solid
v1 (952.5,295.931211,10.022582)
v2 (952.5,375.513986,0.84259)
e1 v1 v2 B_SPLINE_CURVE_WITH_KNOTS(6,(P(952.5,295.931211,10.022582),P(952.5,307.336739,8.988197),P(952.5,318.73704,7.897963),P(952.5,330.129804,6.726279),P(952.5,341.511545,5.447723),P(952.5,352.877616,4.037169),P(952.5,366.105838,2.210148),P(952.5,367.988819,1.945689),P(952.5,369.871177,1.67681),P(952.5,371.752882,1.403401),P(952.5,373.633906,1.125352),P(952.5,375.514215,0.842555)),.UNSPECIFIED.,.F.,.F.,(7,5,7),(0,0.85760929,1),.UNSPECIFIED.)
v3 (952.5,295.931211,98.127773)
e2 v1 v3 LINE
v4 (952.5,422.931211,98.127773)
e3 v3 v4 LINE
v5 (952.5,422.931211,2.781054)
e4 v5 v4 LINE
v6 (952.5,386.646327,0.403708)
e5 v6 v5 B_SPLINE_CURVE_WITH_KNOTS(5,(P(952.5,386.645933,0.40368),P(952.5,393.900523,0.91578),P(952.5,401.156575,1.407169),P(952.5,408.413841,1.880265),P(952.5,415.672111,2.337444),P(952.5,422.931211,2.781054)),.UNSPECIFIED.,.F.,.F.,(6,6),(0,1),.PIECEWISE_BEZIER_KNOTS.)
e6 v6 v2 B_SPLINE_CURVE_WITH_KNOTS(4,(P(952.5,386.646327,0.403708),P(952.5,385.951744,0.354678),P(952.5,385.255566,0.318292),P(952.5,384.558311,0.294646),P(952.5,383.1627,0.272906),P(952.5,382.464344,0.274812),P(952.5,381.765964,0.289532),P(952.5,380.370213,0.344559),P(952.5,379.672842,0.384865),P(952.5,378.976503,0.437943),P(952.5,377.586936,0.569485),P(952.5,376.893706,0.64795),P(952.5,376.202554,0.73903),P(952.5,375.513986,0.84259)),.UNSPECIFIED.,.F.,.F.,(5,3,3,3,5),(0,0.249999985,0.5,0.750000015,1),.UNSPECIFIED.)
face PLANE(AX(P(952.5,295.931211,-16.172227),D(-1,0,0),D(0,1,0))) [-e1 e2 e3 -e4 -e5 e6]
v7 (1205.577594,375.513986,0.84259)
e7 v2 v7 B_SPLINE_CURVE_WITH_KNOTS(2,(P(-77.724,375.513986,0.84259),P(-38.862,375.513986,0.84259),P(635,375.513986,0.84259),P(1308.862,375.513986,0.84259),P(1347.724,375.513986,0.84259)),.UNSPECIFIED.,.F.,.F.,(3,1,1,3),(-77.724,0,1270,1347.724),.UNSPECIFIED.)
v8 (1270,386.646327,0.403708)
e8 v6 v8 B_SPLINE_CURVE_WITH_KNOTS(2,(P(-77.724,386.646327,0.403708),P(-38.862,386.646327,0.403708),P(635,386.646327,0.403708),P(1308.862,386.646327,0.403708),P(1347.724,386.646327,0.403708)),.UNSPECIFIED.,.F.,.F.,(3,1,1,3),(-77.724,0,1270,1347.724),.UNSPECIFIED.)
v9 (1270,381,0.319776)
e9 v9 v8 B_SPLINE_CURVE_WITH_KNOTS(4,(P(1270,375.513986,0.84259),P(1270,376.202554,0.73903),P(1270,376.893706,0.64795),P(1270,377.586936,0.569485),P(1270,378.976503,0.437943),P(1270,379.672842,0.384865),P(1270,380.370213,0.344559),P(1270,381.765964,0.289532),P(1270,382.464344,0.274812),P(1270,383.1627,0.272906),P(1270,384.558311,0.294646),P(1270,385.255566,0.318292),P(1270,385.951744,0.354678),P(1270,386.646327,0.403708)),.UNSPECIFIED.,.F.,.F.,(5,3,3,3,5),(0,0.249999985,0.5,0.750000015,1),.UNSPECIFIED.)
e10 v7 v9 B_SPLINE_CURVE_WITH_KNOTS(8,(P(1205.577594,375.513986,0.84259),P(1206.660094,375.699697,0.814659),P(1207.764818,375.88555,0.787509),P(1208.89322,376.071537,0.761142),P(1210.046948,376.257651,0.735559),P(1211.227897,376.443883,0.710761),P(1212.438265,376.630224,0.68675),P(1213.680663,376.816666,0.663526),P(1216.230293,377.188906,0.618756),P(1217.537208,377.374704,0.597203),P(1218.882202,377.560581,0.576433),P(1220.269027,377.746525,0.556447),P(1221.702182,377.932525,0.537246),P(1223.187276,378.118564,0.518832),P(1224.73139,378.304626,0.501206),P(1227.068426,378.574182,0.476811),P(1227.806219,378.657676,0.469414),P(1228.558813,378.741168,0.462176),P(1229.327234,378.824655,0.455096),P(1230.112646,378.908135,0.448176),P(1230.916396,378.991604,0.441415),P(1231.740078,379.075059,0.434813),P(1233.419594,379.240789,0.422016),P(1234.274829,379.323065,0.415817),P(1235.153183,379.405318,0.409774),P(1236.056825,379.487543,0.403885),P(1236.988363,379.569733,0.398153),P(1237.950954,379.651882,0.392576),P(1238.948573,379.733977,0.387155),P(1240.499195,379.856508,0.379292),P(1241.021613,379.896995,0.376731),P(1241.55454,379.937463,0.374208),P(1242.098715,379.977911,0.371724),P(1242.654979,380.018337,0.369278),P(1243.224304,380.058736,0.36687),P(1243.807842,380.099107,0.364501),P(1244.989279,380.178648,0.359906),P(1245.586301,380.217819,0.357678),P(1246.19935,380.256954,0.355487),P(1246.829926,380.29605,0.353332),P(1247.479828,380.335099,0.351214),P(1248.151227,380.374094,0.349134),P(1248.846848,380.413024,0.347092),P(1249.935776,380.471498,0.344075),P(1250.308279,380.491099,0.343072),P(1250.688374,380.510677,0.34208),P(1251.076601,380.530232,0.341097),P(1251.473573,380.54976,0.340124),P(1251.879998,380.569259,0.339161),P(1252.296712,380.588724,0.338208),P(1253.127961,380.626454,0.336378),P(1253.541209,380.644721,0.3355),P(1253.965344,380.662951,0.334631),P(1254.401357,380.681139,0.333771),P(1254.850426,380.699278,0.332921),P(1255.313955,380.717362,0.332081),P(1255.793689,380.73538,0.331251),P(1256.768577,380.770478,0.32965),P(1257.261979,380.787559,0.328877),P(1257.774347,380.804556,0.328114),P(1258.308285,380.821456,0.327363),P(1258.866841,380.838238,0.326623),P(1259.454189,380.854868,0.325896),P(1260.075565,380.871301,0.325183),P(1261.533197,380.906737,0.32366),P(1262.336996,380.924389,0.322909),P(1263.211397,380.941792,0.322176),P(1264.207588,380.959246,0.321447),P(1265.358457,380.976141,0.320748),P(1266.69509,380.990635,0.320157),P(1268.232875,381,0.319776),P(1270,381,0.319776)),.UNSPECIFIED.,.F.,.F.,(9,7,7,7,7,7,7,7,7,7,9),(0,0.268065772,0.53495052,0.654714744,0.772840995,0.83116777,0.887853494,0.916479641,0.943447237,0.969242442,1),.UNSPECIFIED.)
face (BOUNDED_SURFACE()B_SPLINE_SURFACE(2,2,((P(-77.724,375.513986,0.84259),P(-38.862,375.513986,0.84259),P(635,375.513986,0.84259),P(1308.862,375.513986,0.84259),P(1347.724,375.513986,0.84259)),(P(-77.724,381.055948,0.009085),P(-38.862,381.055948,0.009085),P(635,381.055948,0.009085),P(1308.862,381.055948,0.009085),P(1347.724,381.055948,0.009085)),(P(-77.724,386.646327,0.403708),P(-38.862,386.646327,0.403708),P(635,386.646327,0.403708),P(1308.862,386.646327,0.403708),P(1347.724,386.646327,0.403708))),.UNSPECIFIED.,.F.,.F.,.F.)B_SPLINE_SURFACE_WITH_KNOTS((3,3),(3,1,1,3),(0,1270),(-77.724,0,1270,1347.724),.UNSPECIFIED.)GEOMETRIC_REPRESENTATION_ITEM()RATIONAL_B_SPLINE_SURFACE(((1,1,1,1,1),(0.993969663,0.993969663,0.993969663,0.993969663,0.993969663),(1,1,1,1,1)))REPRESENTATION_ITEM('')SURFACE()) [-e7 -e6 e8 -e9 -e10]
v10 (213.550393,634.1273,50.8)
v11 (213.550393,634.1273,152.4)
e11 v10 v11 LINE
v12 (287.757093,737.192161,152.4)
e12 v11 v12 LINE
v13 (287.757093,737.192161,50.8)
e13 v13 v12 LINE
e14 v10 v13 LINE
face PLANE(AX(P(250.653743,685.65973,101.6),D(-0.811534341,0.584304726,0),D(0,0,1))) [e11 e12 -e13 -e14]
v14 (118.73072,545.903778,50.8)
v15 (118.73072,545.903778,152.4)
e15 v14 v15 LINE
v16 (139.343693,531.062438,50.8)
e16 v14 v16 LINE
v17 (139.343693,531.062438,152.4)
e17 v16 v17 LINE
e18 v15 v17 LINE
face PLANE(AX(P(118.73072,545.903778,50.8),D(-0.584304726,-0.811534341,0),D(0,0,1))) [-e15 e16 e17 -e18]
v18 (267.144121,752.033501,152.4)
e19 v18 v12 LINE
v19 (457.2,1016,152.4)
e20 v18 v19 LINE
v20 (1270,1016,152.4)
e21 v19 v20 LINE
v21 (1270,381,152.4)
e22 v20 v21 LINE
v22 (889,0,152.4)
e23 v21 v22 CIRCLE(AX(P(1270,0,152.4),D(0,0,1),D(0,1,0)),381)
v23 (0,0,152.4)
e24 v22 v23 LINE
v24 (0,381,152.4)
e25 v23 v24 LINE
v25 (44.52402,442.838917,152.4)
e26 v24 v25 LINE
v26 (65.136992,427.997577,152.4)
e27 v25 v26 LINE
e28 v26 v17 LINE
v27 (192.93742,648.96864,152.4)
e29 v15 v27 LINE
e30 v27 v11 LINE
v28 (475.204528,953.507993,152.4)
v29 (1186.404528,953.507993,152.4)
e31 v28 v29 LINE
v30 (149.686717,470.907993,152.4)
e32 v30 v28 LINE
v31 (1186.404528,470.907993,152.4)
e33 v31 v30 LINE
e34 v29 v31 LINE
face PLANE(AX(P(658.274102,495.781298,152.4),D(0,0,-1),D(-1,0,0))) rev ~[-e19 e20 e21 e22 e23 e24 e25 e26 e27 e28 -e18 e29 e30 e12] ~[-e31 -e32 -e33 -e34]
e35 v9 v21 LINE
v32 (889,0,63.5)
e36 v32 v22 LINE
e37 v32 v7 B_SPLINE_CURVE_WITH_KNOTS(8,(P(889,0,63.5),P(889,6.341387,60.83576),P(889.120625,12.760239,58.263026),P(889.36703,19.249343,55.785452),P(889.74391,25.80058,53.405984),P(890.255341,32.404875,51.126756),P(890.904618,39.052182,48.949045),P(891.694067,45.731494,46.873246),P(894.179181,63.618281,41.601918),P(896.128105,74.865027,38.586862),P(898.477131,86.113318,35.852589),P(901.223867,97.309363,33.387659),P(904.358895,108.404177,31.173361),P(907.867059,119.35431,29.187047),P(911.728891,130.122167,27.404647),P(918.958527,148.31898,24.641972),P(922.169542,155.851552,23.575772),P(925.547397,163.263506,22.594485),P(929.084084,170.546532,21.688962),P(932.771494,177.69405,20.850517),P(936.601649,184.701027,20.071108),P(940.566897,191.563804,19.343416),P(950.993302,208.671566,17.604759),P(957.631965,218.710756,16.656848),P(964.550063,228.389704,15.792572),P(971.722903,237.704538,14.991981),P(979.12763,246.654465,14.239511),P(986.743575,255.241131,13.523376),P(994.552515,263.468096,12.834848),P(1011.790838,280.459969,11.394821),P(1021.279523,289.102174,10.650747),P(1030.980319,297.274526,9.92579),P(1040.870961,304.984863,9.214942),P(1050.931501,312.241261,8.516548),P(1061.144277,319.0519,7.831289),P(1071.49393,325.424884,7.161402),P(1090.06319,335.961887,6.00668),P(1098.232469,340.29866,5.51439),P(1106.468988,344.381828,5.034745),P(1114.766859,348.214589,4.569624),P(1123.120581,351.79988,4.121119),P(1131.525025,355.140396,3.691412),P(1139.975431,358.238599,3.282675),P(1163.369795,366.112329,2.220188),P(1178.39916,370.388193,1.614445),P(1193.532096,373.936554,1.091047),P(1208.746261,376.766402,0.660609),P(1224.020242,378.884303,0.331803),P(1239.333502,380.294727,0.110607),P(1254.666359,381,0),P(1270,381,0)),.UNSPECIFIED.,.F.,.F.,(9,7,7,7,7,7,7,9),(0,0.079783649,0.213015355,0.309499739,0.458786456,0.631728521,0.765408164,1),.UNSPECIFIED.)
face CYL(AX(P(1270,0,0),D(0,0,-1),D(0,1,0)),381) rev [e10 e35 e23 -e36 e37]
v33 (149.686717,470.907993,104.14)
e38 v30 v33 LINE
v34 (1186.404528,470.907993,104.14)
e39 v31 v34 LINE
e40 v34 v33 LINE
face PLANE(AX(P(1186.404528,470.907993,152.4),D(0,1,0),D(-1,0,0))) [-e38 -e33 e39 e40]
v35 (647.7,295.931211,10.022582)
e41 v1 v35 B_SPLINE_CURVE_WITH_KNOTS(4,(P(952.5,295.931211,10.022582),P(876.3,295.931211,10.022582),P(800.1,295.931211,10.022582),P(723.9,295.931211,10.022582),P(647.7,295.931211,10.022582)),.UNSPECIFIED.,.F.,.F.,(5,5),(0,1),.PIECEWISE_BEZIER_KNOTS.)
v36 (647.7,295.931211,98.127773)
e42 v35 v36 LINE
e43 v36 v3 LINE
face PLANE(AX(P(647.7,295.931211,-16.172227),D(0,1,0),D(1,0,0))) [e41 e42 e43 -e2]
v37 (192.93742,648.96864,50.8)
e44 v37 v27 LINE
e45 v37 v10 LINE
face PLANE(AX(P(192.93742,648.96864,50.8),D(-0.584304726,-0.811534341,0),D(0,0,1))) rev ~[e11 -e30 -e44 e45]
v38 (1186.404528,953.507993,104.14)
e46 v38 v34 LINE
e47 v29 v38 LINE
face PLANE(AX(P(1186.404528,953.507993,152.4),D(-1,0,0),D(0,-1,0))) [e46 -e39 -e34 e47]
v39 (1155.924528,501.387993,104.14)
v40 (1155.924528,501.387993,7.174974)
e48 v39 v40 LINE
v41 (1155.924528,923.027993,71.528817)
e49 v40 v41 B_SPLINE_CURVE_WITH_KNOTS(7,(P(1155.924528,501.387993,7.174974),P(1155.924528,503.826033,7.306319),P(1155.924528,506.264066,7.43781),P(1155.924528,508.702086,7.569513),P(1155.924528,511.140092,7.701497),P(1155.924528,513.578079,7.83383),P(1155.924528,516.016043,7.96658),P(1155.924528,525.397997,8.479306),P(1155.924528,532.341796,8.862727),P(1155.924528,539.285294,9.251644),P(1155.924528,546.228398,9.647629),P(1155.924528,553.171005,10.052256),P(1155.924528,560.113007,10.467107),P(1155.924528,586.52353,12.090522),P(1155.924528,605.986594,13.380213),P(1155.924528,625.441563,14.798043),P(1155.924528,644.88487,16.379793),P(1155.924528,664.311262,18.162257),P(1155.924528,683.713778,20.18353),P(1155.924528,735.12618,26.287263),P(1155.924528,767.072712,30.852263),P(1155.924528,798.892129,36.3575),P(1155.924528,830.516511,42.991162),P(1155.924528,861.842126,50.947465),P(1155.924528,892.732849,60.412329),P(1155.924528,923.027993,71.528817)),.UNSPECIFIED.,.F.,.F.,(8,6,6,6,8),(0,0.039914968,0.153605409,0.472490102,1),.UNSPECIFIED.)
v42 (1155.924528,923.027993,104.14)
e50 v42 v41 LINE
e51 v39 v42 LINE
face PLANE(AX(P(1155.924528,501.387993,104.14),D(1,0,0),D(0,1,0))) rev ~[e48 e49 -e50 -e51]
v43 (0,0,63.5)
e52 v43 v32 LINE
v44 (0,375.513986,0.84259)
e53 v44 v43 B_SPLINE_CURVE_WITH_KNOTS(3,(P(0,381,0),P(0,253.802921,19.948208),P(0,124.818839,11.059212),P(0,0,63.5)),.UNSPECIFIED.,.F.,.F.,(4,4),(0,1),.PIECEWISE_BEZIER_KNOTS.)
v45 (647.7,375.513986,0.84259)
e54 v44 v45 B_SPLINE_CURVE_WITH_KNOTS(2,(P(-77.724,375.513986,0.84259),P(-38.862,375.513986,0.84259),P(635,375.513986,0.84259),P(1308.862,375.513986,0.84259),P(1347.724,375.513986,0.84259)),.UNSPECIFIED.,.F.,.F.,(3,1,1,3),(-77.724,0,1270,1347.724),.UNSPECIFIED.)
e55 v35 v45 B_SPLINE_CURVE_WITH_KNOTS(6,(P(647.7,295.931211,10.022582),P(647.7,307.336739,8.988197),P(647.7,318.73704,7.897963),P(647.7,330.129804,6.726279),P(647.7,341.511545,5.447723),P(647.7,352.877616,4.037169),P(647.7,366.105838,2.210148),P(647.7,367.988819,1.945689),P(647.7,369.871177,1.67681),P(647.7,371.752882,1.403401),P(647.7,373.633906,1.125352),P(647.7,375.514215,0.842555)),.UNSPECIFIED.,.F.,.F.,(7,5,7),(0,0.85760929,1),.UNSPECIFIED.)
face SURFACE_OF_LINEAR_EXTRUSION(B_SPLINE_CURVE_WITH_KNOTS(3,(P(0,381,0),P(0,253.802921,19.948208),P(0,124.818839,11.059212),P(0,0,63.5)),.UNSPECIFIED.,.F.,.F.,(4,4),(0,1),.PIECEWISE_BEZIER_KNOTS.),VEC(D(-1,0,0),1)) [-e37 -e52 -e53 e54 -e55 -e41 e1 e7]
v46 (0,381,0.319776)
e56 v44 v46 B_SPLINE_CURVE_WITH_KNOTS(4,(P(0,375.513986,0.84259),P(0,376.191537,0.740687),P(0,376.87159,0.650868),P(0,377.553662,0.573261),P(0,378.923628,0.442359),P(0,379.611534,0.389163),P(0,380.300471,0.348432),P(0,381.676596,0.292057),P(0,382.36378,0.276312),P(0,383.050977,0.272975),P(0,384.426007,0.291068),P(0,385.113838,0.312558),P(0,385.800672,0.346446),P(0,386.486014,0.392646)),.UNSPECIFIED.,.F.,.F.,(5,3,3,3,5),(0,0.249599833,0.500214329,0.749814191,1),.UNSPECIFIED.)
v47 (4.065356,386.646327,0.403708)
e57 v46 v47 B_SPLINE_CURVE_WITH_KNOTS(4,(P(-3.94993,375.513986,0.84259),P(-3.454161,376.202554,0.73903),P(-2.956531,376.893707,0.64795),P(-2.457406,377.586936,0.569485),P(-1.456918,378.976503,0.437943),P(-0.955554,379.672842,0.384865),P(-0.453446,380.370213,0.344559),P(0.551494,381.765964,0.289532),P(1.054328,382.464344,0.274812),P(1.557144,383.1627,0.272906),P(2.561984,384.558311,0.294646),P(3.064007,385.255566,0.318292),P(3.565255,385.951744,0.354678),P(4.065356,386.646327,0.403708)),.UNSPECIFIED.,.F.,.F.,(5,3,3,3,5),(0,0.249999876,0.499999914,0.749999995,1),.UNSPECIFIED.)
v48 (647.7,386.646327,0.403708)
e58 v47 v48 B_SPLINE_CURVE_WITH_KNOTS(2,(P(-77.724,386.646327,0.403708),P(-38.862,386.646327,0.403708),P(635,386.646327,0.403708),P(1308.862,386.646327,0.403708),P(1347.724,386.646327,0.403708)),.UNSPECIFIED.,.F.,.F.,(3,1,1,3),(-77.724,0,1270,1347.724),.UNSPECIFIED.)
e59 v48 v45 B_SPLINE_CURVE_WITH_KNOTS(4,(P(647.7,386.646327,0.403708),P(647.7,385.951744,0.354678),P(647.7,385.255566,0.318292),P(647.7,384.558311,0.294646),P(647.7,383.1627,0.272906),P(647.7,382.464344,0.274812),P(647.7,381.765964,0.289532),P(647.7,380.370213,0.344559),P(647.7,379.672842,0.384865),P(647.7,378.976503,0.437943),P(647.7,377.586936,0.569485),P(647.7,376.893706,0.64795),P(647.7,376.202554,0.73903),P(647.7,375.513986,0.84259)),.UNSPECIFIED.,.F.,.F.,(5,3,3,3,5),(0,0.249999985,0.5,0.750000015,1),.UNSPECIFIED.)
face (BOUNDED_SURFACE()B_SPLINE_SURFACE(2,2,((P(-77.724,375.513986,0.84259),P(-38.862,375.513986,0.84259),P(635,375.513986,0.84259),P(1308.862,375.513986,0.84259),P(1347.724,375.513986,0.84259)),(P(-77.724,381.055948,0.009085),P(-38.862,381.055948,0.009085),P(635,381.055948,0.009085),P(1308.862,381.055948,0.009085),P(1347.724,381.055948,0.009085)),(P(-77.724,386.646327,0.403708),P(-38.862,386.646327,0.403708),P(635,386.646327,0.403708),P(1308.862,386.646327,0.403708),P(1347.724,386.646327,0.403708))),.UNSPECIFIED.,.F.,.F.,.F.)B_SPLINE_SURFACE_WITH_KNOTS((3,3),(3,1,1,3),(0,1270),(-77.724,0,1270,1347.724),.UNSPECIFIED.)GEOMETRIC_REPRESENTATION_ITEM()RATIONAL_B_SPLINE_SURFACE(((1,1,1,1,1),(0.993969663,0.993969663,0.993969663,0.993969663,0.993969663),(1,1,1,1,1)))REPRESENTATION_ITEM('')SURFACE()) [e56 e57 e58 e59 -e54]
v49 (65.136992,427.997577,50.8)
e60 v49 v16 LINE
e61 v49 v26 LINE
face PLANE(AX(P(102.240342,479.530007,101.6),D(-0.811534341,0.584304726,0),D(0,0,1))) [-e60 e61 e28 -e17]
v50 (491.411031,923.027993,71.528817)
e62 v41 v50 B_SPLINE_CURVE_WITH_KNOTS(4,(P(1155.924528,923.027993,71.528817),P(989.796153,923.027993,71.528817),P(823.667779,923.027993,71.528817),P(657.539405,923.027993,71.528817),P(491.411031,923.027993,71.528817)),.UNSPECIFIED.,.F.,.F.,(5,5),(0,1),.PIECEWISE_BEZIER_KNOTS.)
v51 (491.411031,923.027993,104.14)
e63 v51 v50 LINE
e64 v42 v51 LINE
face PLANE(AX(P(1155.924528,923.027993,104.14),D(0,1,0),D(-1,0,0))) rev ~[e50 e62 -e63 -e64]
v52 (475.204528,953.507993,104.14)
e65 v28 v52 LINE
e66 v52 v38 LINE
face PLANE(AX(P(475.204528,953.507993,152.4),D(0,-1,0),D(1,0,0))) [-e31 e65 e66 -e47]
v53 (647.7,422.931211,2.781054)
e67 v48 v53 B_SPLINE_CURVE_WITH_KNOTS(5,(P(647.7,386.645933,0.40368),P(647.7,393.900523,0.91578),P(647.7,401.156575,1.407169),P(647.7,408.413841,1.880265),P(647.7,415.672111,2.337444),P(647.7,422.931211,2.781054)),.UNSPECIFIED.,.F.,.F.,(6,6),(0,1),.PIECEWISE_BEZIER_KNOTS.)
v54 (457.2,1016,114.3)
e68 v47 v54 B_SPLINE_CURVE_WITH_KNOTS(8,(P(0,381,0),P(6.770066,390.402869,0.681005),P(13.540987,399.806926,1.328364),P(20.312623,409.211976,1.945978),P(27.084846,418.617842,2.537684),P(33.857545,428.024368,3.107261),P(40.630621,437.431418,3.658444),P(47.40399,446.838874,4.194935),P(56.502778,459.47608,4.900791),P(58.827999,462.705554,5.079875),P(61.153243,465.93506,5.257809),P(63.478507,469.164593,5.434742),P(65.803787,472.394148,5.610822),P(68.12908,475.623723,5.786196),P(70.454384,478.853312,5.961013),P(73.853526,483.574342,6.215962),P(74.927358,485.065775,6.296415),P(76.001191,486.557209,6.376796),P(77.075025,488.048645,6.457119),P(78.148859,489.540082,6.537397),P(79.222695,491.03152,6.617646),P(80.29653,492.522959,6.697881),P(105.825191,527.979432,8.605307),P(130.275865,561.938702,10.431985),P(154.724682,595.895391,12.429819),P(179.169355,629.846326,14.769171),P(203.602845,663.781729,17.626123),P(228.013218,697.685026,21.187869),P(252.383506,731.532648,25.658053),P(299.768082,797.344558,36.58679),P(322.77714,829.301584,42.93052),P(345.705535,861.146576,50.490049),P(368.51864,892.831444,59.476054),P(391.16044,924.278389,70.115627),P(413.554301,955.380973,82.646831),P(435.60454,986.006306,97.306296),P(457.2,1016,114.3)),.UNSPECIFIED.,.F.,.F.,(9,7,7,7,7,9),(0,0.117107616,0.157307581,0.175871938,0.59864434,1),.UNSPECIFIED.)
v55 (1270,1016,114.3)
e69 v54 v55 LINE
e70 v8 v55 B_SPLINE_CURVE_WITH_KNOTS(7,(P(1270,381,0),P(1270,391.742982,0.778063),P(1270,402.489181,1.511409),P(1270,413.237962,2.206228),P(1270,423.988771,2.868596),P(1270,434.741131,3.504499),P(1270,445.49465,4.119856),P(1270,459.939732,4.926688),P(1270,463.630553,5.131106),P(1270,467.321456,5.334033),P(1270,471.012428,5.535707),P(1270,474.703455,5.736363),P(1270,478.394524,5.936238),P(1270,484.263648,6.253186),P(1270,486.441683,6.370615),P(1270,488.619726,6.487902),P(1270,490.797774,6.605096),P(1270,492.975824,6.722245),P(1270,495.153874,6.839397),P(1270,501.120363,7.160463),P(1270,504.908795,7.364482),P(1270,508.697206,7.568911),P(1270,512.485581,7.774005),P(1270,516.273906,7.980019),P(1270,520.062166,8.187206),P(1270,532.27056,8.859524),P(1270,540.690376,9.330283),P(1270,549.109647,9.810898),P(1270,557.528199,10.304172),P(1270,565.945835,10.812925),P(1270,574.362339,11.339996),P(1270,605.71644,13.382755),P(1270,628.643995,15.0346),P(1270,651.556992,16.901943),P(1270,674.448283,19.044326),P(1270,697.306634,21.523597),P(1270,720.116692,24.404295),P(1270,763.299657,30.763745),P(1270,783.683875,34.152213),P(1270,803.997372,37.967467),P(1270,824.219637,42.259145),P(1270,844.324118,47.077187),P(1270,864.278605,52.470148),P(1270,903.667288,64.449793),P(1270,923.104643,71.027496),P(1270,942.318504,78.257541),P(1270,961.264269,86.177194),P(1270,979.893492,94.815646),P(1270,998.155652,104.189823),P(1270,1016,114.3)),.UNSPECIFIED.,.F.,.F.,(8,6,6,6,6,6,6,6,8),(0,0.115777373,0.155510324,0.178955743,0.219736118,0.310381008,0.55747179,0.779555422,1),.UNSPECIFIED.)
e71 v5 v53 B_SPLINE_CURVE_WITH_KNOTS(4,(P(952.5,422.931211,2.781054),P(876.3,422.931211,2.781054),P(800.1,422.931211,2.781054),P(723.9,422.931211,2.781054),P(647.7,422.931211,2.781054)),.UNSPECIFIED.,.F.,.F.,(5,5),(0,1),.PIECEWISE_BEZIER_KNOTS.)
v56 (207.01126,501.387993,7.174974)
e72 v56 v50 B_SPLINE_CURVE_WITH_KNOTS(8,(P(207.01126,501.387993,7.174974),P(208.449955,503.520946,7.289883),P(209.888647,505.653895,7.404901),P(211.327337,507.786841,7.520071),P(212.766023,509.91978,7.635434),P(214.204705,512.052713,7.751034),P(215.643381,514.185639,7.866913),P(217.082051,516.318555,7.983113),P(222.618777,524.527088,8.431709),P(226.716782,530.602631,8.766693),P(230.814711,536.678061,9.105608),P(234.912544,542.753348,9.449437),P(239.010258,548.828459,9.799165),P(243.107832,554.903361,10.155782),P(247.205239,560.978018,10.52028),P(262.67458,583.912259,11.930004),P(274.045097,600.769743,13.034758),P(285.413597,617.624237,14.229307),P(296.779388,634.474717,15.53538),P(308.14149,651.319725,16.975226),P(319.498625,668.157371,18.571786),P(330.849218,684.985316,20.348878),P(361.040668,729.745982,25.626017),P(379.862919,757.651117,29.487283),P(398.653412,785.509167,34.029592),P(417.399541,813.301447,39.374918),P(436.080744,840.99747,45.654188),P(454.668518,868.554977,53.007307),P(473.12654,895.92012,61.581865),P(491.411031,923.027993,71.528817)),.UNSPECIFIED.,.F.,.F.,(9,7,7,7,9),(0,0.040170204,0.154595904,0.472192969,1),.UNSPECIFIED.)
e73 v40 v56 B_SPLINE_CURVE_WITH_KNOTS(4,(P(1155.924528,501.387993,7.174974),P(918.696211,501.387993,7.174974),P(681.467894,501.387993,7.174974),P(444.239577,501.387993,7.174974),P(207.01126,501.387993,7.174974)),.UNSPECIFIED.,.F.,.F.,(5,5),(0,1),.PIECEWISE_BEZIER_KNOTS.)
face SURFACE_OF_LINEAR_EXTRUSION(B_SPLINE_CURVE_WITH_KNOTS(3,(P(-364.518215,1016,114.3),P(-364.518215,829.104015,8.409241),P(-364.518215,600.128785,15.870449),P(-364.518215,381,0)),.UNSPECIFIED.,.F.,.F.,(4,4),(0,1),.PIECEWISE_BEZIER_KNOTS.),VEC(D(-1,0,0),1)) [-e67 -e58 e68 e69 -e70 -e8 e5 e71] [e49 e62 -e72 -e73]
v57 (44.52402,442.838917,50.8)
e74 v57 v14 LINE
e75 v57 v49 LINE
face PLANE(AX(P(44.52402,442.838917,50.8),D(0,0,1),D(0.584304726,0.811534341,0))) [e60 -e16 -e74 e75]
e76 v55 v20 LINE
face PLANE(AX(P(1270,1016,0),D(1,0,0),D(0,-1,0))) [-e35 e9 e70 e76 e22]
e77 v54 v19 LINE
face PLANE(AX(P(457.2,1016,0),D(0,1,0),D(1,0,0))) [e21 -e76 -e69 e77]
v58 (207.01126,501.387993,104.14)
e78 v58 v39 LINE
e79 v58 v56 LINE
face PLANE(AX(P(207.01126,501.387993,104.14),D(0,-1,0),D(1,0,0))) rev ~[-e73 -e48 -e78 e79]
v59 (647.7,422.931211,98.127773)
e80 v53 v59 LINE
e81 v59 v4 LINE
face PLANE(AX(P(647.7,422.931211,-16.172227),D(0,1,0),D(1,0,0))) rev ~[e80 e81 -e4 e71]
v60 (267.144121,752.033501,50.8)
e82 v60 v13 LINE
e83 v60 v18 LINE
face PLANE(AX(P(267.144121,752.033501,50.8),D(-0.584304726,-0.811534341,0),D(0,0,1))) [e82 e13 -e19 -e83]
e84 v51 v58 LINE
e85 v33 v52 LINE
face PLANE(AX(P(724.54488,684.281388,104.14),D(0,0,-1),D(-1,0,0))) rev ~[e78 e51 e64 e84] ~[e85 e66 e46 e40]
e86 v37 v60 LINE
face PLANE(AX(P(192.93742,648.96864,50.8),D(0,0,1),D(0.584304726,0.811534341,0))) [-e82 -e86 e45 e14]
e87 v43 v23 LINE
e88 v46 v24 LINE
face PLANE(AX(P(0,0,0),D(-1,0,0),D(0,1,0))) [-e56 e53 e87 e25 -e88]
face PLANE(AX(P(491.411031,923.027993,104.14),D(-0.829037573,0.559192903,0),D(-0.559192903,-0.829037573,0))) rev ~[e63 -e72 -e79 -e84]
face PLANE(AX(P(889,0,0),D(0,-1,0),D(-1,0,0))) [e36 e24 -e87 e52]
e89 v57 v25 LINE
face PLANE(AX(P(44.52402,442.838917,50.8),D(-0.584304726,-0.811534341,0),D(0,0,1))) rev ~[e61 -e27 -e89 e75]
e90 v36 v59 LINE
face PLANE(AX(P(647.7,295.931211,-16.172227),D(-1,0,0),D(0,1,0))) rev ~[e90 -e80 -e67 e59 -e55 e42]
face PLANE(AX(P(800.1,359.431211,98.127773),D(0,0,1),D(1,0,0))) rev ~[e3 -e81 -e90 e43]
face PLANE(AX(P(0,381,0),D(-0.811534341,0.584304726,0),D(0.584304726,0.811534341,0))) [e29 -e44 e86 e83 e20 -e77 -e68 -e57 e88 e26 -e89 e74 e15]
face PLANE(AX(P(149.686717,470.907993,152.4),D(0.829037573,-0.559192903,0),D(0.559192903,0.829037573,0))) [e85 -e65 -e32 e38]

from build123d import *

# Parameters (mm, degrees)
BOSS_EXTRUDE1_DEPTH     = 152.4
CUT_EXTRUDE1_DEPTH      = 1634.518215387
CUT_EXTRUDE1_DEPTH_BACK = 1634.518215387
CUT_EXTRUDE2_DEPTH      = 1634.518215536
FILLET1_R               = 50.8
CUT_EXTRUDE3_DEPTH      = 48.26
CUT_EXTRUDE4_DEPTH      = 1213.010253568
SKETCH6_W               = 101.6
SKETCH6_H               = 127
CUT_EXTRUDE5_DEPTH      = 25.4
LPATTERN1_COUNT         = 2
LPATTERN1_PITCH         = 254
SKETCH7_W               = 304.8
SKETCH7_H               = 127
CUT_EXTRUDE7_DEPTH      = 114.3


with BuildPart() as part:
    # Sketch1 → Boss-Extrude1 (new body)
    with BuildSketch(Plane.XY):
        with BuildLine():
            Line((0, 0), (0, 381))
            Line((0, 381), (457.2, 1016))
            Line((457.2, 1016), (1270, 1016))
            Line((1270, 1016), (1270, 381))
            ThreePointArc((1270, 381), (1000.592316368, 269.407683632), (889, 0))
            Line((889, 0), (0, 0))
        make_face()
    extrude(amount=BOSS_EXTRUDE1_DEPTH)

    # Sketch3 → Cut-Extrude1 (cut, two sides: drawn at the far end of the back side and taken through both)
    with BuildSketch(Plane(origin=(1270, 0, 0), x_dir=(0, 0, -1), z_dir=(1, 0, 0)).offset(-CUT_EXTRUDE1_DEPTH_BACK)):
        with BuildLine():
            Line((0, 1016), (-114.3, 1016))
            add(Edge.make_bspline(
                [(-114.3, 1016), (-8.40924149, 829.104015067), (-15.870449407, 600.128785321), (0, 381)],
                knots=[0, 0, 0, 0, 1, 1, 1, 1], degree=3))
            Line((0, 381), (0, 1016))
        make_face()
    extrude(amount=CUT_EXTRUDE1_DEPTH + CUT_EXTRUDE1_DEPTH_BACK, mode=Mode.SUBTRACT)

    # Sketch4 → Cut-Extrude2 (cut, through all)
    with BuildSketch(Plane.ZY):
        with BuildLine():
            Line((0, 0), (63.5, 0))
            add(Edge.make_bspline(
                [(0, 381), (19.94820776, 253.802921476), (11.059212426, 124.818838522), (63.5, 0)],
                knots=[0, 0, 0, 0, 1, 1, 1, 1], degree=3))
            Line((0, 381), (0, 0))
        make_face()
    extrude(amount=-CUT_EXTRUDE2_DEPTH, mode=Mode.SUBTRACT)

    # Fillet1
    fillet1_edges = [part.edges().sort_by_distance(p)[0] for p in [
        (635, 381, 0),
    ]]
    fillet(fillet1_edges, radius=FILLET1_R)

    # Sketch5 → Cut-Extrude3 (cut)
    with BuildSketch(Plane.XY.offset(152.4)):
        Polygon((1186.404527601, 953.507993358), (1186.404527601, 470.907993358), (149.686717373, 470.907993358), (475.204527601, 953.507993358), align=None)
    extrude(amount=-CUT_EXTRUDE3_DEPTH, mode=Mode.SUBTRACT)

    # 3DSketch1 → Cut-Extrude4 (cut, through all)
    with BuildSketch(Plane(origin=(491.411031078, 923.027993358, 104.14), x_dir=(0.8443699387246085, -0.535760586995909, 0), z_dir=(0, 0, -1))):
        Polygon((0, 0), (-14.240523347, 508.390329239), (786.993314242, 0), (561.095220341, -356.020140964), align=None)
    extrude(amount=CUT_EXTRUDE4_DEPTH, mode=Mode.SUBTRACT)

    # Sketch6 → Cut-Extrude5 (cut)
    with BuildSketch(Plane(origin=(-180.663856691, 130.077976818, 0), x_dir=(0, 0, 1), z_dir=(-0.8115343414514944, 0.5843047258450759, 0))):
        with Locations((101.6, 448.894584093)):
            Rectangle(SKETCH6_W, SKETCH6_H)
    cut_extrude5 = extrude(amount=-CUT_EXTRUDE5_DEPTH, mode=Mode.SUBTRACT)

    # LPattern1: Cut-Extrude5 ×2
    with Locations(*[Vector(0.5843047258450758, 0.8115343414514946, 0) * (i * LPATTERN1_PITCH) for i in range(1, LPATTERN1_COUNT)]):
        add(cut_extrude5, mode=Mode.SUBTRACT)

    # Sketch7 → Cut-Extrude7 (cut)
    with BuildSketch(Plane.XY.offset(-16.17222699)):
        with Locations((800.1, 359.431211457)):
            Rectangle(SKETCH7_W, SKETCH7_H)
    extrude(amount=CUT_EXTRUDE7_DEPTH, mode=Mode.SUBTRACT)


solid = part.part
